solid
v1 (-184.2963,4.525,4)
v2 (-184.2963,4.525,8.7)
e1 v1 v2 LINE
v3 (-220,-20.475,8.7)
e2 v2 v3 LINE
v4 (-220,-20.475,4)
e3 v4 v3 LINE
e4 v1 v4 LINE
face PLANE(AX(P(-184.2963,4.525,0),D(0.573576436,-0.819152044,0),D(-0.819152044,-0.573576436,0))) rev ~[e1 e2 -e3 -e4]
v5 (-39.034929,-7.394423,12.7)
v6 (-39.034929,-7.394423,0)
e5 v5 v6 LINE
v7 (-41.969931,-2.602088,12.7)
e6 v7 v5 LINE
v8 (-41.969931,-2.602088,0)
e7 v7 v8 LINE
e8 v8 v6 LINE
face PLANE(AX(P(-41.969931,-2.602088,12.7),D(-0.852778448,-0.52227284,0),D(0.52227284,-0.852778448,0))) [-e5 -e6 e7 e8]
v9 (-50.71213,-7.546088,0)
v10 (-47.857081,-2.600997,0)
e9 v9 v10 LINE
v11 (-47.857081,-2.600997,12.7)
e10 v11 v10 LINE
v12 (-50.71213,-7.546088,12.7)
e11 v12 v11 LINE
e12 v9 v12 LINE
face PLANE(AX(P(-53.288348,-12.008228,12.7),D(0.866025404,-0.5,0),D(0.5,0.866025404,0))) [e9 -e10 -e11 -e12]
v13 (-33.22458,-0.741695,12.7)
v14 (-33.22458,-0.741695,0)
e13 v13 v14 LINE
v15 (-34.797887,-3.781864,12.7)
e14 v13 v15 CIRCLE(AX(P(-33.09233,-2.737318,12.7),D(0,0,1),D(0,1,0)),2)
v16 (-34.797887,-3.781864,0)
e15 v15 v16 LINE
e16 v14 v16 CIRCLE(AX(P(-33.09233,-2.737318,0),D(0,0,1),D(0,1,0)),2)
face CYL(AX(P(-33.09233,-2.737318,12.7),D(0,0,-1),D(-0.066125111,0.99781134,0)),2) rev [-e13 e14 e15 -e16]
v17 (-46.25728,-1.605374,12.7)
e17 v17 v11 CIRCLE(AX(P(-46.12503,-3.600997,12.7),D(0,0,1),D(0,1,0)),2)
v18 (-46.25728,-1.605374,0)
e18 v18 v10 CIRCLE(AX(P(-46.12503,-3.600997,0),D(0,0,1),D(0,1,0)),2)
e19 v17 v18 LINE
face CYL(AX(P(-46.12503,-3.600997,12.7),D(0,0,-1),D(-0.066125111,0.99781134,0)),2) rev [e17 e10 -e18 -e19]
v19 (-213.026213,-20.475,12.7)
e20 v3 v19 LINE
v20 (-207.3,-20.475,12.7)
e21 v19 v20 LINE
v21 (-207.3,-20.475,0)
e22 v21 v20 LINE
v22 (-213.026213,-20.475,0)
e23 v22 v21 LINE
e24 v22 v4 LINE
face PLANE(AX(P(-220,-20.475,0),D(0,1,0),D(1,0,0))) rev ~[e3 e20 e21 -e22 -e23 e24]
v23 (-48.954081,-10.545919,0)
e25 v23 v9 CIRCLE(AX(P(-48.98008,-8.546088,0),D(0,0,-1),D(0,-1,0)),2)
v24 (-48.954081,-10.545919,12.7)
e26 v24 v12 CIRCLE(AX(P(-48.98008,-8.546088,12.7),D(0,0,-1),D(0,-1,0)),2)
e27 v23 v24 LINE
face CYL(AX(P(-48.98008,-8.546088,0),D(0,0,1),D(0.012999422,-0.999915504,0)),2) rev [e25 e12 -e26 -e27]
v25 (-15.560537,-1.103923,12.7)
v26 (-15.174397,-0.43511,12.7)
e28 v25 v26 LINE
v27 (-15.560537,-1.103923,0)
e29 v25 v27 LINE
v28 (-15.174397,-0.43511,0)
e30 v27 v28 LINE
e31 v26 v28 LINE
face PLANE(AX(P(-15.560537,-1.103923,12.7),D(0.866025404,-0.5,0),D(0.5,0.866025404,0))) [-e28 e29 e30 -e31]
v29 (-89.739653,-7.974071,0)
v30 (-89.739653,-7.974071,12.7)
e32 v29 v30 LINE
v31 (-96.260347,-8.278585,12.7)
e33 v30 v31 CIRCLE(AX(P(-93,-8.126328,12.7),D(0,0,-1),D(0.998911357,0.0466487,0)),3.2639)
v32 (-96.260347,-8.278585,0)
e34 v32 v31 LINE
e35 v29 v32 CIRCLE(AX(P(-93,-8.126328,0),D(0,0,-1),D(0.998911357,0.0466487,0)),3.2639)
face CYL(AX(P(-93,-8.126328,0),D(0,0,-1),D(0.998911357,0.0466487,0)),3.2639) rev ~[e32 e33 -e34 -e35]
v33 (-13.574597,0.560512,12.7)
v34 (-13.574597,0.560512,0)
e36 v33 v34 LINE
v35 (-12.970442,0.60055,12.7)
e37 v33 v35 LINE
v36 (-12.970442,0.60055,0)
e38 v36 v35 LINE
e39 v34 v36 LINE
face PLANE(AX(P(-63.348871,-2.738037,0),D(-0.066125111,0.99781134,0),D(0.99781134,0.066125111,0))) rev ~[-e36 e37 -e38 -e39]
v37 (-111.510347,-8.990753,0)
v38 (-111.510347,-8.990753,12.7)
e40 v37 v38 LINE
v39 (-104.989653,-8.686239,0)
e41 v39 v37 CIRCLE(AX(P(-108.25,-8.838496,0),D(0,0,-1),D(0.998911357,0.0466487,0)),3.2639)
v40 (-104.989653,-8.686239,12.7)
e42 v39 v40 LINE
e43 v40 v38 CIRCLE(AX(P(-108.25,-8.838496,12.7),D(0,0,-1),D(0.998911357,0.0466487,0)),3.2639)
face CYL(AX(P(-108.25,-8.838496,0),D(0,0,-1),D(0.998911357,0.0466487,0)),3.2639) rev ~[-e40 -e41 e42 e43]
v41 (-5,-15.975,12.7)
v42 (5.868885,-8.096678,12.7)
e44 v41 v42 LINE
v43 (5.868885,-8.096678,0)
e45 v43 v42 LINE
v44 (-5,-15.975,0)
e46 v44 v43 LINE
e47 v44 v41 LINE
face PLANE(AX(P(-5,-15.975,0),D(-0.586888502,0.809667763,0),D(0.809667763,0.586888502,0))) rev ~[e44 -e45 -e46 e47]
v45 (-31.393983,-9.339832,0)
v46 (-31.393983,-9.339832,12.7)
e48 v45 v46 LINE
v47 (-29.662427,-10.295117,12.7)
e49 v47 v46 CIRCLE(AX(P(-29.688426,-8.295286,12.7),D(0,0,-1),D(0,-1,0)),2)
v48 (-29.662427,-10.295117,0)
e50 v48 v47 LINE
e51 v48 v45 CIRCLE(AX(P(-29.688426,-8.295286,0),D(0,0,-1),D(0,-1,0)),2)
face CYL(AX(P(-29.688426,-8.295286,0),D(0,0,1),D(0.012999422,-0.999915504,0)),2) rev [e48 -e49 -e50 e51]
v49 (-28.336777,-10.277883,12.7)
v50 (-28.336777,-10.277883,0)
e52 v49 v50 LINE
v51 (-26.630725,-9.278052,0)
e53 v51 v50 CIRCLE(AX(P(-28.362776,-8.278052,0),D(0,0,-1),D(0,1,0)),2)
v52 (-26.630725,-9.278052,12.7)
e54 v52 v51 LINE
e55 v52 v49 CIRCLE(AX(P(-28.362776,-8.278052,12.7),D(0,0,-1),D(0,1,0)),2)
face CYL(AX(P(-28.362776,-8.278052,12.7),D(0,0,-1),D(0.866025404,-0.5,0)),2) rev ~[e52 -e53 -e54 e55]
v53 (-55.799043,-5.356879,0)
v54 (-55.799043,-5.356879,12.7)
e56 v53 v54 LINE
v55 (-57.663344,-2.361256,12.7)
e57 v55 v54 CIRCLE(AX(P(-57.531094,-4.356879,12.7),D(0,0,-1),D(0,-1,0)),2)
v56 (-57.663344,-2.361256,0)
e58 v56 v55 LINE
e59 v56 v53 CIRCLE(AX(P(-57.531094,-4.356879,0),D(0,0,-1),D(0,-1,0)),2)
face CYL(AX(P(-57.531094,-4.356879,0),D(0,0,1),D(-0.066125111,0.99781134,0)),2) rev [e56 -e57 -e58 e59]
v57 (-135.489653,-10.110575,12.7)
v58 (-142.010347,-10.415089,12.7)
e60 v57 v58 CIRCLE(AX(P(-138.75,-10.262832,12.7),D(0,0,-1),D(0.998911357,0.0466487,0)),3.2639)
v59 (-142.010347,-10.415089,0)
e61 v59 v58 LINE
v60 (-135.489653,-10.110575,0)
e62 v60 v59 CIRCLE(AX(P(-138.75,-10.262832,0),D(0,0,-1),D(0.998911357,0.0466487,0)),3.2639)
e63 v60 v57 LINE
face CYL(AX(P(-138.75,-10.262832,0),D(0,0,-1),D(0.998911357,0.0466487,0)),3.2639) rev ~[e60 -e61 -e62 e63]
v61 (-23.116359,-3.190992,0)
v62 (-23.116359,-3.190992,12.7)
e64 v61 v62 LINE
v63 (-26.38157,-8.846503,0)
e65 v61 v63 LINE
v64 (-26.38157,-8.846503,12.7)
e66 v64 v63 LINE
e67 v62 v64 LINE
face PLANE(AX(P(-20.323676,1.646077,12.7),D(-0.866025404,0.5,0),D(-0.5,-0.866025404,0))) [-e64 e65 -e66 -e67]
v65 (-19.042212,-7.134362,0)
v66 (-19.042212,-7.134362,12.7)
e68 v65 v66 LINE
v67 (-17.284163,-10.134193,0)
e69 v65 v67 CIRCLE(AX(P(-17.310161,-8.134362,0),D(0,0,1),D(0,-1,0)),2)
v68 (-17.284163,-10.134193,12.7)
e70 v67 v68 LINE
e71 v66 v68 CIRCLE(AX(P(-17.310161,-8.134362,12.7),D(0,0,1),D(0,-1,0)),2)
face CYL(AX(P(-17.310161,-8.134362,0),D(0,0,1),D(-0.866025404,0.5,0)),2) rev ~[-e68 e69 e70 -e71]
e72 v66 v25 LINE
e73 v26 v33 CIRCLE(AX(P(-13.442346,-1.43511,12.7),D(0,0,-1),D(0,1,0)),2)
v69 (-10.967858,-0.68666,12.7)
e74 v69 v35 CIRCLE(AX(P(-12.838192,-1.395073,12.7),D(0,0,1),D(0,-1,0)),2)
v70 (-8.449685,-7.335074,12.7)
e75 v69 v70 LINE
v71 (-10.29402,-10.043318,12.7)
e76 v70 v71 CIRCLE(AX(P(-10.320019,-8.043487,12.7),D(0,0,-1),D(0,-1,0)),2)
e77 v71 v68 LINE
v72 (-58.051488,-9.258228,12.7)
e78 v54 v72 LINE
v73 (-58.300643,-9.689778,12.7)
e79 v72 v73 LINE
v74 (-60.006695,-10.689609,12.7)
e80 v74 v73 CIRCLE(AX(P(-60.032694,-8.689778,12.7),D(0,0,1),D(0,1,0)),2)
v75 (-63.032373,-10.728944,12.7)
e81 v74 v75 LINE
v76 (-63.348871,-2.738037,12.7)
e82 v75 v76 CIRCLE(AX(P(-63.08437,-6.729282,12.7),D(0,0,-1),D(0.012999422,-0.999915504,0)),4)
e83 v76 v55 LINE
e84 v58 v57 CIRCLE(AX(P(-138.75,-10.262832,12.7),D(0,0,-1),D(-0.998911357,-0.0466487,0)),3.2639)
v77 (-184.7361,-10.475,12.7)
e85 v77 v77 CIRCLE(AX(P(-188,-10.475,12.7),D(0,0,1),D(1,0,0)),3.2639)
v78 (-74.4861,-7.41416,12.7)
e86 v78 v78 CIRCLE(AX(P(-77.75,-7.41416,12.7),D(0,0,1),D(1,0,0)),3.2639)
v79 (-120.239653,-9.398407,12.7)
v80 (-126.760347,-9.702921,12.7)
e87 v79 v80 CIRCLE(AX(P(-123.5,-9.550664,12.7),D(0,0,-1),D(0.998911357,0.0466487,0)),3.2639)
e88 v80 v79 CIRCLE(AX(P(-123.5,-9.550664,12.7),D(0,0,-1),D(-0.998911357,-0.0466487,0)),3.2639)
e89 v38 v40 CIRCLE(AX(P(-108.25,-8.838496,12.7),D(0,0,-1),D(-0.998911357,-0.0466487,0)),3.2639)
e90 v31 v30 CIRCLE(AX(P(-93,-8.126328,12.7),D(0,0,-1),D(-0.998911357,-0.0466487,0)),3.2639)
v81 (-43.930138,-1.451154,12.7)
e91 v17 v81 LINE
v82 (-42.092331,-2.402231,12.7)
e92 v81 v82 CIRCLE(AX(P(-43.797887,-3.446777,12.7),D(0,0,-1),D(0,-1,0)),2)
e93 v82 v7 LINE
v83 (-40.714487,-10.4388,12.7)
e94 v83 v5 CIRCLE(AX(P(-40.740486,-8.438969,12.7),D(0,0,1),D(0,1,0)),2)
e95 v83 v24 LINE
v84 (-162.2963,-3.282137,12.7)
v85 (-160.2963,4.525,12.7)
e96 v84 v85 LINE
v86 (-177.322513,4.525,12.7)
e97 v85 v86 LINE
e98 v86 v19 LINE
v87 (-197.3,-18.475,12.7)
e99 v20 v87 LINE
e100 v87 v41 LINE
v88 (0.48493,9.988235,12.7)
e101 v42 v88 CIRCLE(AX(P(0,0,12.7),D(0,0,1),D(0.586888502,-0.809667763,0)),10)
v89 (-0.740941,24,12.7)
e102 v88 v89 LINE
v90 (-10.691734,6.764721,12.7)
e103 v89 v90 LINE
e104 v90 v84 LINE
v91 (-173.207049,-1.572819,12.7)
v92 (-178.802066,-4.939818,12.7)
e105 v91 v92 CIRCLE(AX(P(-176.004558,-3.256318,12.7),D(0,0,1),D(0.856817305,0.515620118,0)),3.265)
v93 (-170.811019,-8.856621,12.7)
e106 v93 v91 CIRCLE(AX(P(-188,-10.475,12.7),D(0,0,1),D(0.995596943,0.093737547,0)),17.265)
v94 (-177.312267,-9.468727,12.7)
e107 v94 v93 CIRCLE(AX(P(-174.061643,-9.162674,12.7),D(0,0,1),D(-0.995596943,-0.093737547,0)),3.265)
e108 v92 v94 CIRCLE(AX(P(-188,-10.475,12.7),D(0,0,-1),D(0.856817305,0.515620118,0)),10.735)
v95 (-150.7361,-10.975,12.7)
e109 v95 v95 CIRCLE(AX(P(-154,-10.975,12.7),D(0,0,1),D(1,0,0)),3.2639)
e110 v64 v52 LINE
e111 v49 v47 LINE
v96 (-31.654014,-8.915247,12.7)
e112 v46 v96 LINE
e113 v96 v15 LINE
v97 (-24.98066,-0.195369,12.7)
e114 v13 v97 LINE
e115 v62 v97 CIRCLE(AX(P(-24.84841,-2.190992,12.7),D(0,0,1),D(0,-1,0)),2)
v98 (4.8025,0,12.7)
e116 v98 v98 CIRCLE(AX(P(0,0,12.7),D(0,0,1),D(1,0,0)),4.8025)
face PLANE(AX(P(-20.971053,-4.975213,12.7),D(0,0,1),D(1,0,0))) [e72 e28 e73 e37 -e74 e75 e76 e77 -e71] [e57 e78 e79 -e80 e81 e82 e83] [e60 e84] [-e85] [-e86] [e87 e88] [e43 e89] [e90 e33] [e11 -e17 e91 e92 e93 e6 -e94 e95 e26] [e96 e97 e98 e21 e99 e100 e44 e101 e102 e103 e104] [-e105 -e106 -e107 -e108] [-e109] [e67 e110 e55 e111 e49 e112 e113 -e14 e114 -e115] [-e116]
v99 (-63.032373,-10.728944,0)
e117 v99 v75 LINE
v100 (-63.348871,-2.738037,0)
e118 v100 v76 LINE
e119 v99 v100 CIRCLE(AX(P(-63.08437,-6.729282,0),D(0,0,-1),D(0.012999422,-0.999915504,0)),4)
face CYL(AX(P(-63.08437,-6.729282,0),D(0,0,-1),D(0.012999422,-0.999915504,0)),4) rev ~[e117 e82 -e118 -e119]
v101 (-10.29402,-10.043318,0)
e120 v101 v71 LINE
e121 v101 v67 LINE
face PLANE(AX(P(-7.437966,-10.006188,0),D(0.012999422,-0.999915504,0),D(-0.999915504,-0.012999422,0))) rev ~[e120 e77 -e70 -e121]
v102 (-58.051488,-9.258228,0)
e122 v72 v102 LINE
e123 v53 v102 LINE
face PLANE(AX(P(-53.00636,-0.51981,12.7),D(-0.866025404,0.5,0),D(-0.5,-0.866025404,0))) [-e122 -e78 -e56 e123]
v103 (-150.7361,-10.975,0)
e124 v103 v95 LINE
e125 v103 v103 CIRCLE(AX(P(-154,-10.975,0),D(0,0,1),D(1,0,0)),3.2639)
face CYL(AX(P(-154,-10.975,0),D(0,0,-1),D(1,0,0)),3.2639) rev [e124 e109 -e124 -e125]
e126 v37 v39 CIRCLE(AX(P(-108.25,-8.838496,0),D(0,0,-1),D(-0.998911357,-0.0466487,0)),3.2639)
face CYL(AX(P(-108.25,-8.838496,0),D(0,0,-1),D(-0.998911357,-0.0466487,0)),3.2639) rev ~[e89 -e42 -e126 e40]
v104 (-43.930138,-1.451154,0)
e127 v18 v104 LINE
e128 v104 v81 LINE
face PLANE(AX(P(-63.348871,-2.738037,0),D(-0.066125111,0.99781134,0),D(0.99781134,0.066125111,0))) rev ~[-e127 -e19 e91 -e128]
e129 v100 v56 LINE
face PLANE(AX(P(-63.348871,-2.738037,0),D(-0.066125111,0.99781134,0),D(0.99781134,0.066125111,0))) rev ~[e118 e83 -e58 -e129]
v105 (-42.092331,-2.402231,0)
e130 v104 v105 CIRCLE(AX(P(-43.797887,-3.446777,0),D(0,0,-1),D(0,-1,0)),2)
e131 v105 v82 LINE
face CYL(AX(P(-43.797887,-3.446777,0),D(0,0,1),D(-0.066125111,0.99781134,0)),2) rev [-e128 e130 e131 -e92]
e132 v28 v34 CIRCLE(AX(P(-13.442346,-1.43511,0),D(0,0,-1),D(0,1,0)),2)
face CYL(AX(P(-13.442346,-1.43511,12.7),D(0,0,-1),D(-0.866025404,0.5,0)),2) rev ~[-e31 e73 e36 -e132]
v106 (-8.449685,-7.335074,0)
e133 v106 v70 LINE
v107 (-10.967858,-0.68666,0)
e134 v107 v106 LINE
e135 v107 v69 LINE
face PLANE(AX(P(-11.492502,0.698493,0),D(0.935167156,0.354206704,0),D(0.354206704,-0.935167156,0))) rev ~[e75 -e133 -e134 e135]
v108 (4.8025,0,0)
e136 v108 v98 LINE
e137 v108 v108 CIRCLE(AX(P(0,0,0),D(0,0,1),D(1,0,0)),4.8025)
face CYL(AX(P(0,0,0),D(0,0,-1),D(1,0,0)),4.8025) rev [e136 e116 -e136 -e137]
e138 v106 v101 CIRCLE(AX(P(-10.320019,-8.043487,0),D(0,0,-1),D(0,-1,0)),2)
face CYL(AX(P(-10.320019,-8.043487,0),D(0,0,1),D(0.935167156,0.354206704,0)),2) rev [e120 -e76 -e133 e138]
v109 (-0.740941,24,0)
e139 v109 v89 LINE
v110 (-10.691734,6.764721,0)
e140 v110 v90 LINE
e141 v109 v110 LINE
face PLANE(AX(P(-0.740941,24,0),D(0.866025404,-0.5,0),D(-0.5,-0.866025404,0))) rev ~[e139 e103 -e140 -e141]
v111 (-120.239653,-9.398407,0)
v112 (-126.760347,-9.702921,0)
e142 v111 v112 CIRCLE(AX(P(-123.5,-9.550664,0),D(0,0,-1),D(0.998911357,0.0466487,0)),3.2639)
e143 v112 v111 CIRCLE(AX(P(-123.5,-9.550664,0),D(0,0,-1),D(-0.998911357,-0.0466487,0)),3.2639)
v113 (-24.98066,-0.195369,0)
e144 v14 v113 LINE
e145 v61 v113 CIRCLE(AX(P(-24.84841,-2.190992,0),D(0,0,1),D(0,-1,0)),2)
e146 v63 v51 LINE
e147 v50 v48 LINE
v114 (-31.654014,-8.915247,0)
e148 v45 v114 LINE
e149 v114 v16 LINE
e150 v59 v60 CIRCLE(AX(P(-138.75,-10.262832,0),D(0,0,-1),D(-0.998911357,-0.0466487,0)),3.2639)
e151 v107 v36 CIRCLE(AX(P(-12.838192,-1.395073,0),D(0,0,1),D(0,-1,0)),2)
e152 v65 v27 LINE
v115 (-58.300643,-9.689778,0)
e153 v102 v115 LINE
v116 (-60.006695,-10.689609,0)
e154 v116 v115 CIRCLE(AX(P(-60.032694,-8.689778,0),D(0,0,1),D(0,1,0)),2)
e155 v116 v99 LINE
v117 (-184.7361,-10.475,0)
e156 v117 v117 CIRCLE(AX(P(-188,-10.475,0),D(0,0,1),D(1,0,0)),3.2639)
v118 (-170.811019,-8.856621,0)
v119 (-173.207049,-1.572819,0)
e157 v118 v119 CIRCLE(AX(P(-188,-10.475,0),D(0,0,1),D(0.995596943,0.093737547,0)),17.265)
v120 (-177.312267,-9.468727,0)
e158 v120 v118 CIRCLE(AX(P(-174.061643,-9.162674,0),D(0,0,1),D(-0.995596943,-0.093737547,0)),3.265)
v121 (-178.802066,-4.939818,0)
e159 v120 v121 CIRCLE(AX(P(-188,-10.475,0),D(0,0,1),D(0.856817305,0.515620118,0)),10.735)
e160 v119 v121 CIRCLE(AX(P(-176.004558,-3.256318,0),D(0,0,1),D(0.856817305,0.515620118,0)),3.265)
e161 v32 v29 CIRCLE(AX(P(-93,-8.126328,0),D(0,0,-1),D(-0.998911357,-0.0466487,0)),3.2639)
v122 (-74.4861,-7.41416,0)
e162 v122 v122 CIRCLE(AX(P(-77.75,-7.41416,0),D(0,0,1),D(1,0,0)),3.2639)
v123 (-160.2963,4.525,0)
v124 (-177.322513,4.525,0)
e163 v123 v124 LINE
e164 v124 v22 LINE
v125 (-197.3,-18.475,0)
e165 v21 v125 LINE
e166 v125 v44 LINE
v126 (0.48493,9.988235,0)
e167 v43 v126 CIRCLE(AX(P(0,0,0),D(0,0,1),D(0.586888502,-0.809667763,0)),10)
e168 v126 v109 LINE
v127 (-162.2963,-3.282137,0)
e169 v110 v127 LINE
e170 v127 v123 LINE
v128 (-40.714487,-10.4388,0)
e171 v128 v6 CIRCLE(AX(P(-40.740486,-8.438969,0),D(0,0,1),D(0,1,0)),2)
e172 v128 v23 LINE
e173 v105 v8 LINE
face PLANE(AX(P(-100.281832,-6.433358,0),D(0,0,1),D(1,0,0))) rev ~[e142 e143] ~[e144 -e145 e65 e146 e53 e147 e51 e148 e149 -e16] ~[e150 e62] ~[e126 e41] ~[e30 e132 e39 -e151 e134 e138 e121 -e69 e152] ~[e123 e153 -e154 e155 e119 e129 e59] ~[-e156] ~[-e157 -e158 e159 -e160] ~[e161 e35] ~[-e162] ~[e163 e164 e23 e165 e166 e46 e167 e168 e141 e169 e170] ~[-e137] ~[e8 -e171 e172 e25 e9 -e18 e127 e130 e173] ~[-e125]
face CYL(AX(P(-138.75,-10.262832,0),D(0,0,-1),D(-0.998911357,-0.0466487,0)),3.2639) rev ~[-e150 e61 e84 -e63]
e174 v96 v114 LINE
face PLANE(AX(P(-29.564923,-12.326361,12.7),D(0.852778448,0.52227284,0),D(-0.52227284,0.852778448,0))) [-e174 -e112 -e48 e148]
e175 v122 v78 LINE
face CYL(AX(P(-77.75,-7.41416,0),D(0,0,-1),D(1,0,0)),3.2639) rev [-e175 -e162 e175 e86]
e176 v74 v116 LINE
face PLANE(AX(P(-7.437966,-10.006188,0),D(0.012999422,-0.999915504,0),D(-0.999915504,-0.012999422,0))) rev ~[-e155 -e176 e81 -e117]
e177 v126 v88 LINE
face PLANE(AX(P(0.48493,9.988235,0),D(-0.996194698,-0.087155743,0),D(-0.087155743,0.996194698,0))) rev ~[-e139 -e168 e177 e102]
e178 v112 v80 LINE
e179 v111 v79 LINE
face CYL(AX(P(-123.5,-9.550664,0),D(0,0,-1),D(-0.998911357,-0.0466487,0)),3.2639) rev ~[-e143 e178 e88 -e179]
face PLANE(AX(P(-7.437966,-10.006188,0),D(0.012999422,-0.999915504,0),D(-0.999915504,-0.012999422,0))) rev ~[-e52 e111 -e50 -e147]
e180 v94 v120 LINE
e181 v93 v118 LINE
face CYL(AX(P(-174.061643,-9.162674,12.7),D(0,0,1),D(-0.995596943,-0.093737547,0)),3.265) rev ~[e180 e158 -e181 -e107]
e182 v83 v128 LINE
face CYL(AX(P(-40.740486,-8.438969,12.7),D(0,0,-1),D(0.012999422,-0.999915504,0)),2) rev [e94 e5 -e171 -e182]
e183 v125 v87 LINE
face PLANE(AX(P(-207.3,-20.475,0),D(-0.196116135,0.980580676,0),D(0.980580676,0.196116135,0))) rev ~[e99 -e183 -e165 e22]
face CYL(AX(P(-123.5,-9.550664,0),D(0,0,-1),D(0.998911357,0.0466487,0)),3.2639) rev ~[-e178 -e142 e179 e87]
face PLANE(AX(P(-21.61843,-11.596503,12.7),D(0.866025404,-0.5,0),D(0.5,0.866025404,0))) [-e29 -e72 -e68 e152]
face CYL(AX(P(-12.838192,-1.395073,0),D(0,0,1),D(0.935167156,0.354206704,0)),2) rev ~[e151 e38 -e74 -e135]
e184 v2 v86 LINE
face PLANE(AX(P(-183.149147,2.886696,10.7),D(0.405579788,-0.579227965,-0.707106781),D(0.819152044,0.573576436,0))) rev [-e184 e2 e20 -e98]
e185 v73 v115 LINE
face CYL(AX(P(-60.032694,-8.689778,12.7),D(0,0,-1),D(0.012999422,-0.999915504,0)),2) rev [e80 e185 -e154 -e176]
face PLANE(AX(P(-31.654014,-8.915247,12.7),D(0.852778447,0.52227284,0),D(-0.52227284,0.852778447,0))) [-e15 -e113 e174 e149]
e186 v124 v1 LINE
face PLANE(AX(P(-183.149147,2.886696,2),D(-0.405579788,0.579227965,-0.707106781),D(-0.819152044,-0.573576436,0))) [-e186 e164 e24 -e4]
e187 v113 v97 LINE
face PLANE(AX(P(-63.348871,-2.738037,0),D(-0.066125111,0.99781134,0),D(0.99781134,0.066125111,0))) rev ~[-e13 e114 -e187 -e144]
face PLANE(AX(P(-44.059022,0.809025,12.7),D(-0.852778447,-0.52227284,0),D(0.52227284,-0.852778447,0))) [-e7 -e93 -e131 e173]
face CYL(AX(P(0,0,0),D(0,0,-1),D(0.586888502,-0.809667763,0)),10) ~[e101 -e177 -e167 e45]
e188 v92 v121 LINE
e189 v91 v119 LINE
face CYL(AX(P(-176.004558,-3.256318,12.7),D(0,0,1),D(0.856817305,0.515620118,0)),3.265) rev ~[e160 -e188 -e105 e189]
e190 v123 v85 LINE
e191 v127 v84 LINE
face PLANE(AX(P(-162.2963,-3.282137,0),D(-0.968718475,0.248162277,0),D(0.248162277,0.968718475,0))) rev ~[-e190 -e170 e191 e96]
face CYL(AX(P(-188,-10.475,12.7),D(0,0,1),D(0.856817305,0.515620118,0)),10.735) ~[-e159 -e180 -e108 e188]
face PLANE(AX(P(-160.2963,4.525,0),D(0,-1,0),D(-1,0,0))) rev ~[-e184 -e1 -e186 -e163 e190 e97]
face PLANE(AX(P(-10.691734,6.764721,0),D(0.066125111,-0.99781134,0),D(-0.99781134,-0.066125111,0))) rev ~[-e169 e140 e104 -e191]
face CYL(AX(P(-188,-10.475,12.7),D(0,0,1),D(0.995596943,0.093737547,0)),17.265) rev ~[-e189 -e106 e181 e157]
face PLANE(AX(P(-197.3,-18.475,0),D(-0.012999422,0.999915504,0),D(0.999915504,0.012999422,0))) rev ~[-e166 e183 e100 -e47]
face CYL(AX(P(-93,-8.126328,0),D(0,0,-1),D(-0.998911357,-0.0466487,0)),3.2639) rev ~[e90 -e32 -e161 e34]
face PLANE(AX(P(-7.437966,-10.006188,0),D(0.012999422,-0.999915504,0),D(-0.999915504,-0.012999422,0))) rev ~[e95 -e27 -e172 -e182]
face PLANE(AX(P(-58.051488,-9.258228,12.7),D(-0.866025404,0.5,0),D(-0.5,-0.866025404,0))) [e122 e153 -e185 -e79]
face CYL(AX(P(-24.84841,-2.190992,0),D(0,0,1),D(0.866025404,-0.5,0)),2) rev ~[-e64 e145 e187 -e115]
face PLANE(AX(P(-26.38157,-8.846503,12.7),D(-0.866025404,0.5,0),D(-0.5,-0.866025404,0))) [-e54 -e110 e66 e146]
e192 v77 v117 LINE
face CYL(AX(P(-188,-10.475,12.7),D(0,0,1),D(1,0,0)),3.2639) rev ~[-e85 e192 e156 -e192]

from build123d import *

# Parameters (mm, degrees)
SKETCH1_R           = 3.2639
SKETCH1_R_2         = 4.8025
BOSS_EXTRUDE1_DEPTH = 12.7
EXTRUDE_THIN1_DEPTH = 12.7
FILLET1_R           = 2
SKETCH3_R           = 3.2639
CUT_EXTRUDE1_DEPTH  = 222.669325799
CHAMFER1_SIZE       = 4


with BuildPart() as part:
    # Sketch1 → Boss-Extrude1 (new body)
    with BuildSketch(Plane.XY):
        with BuildLine():
            Line((-220, -20.475), (-207.3, -20.475))
            Line((-207.3, -20.475), (-197.3, -18.475))
            Line((-197.3, -18.475), (-5, -15.975))
            Line((-5, -15.975), (5.868885021, -8.096677628))
            ThreePointArc((5.868885021, -8.096677628), (9.584297561, 2.85328587), (0.484930071, 9.988235221))
            Line((0.484930071, 9.988235221), (-0.740940503, 24))
            Line((-0.740940503, 24), (-10.691733631, 6.764720727))
            Line((-10.691733631, 6.764720727), (-162.296299831, -3.282137227))
            Line((-162.296299831, -3.282137227), (-160.296299831, 4.525))
            Line((-160.296299831, 4.525), (-184.296299831, 4.525))
            Line((-184.296299831, 4.525), (-220, -20.475))
        make_face()
        with Locations((-154, -10.975)):
            Circle(SKETCH1_R, mode=Mode.SUBTRACT)
        with BuildLine():
            ThreePointArc((-135.489653222, -10.110575335), (-138.597743308, -13.523178805), (-142.010346778, -10.415088719))
            ThreePointArc((-142.010346778, -10.415088719), (-138.902256692, -7.00248525), (-135.489653222, -10.110575335))
        make_face(mode=Mode.SUBTRACT)
        with BuildLine():
            ThreePointArc((-120.239653222, -9.398407362), (-123.347743308, -12.811010832), (-126.760346778, -9.702920746))
            ThreePointArc((-126.760346778, -9.702920746), (-123.652256692, -6.290317277), (-120.239653222, -9.398407362))
        make_face(mode=Mode.SUBTRACT)
        with BuildLine():
            ThreePointArc((-104.989653222, -8.686239389), (-108.097743308, -12.098842859), (-111.510346778, -8.990752773))
            ThreePointArc((-111.510346778, -8.990752773), (-108.402256692, -5.578149304), (-104.989653222, -8.686239389))
        make_face(mode=Mode.SUBTRACT)
        with BuildLine():
            ThreePointArc((-89.739653222, -7.974071416), (-92.847743308, -11.386674886), (-96.260346778, -8.2785848))
            ThreePointArc((-96.260346778, -8.2785848), (-93.152256692, -4.865981331), (-89.739653222, -7.974071416))
        make_face(mode=Mode.SUBTRACT)
        with Locations((-77.75, -7.414160135)):
            Circle(SKETCH1_R, mode=Mode.SUBTRACT)
        with BuildLine():
            ThreePointArc((-63.032372648, -10.728944003), (-67.081236547, -6.887586999), (-63.348870778, -2.738036629))
            Line((-63.348870778, -2.738036629), (-11.492502478, 0.698492886))
            Line((-11.492502478, 0.698492886), (-7.437965658, -10.006187802))
            Line((-7.437965658, -10.006187802), (-63.032372648, -10.728944003))
        make_face(mode=Mode.SUBTRACT)
        Circle(SKETCH1_R_2, mode=Mode.SUBTRACT)
    extrude(amount=BOSS_EXTRUDE1_DEPTH)

    # Sketch2 → Extrude-Thin1 (add)
    with BuildSketch(Plane.XY.offset(12.7)):
        Polygon((-18.82367626, 4.244152852), (-20.32367626, 1.646076641), (-26.38156986, -8.846502861), (-27.88156986, -11.444579073), (-23.11843014, -14.194579073), (-21.61843014, -11.596502861), (-15.560536539, -1.103923359), (-14.060536539, 1.494152852), align=None)
        Polygon((-29.564922949, -12.326360556), (-31.654014309, -8.915246766), (-37.279649193, 0.270412174), (-39.368740553, 3.681525964), (-44.059022015, 0.809025344), (-41.969930654, -2.602088446), (-36.34429577, -11.787747387), (-34.25520441, -15.198861177), align=None)
        Polygon((-51.506359784, 2.078266381), (-53.006359784, -0.51980983), (-58.05148802, -9.258228266), (-59.55148802, -11.856304478), (-54.7883483, -14.606304478), (-53.2883483, -12.008228266), (-48.243220063, -3.26980983), (-46.743220063, -0.671733619), align=None)
    extrude(amount=-EXTRUDE_THIN1_DEPTH)

    # Fillet1
    fillet1_edges = [part.edges().sort_by_distance(p)[0] for p in [
        (-37.198435549, -10.393089387, 6.35),
        (-42.723767146, -1.371207834, 6.35),
        (-30.79987453, -10.309904766, 6.35),
        (-36.525812701, -0.960468438, 6.35),
        (-58.869359177, -10.674822663, 6.35),
        (-53.926545163, -2.113617659, 6.35),
        (-52.470477143, -10.591633869, 6.35),
        (-47.323034685, -1.676002002, 6.35),
        (-7.437965658, -10.006187802, 6.35),
        (-11.492502478, 0.698492886, 6.35),
        (-14.640351161, 0.489884469, 6.35),
        (-21.243861639, 0.052268813, 6.35),
        (-27.199441017, -10.263097258, 6.35),
        (-20.800558983, -10.179908464, 6.35),
    ]]
    fillet(fillet1_edges, radius=FILLET1_R)

    # Sketch3 → Cut-Extrude1 (cut, through all)
    with BuildSketch(Plane.XY.offset(12.7)):
        with Locations((-188, -10.475)):
            Circle(SKETCH3_R)
        with BuildLine():
            ThreePointArc((-170.811018785, -8.85662125), (-171.599559812, -5.080022092), (-173.207049233, -1.57281866))
            ThreePointArc((-173.207049233, -1.57281866), (-177.688057419, -0.458809846), (-178.802066233, -4.939818032))
            ThreePointArc((-178.802066233, -4.939818032), (-177.802564412, -7.120520542), (-177.31226682, -9.468727432))
            ThreePointArc((-177.31226682, -9.468727432), (-173.755589711, -12.413298359), (-170.811018785, -8.85662125))
        make_face()
    extrude(amount=-CUT_EXTRUDE1_DEPTH, mode=Mode.SUBTRACT)

    # Chamfer1
    chamfer1_edges = [part.edges().sort_by_distance(p)[0] for p in [
        (-202.148149916, -7.975, 0),
        (-202.148149916, -7.975, 12.7),
    ]]
    chamfer(chamfer1_edges, length=CHAMFER1_SIZE)


solid = part.part
